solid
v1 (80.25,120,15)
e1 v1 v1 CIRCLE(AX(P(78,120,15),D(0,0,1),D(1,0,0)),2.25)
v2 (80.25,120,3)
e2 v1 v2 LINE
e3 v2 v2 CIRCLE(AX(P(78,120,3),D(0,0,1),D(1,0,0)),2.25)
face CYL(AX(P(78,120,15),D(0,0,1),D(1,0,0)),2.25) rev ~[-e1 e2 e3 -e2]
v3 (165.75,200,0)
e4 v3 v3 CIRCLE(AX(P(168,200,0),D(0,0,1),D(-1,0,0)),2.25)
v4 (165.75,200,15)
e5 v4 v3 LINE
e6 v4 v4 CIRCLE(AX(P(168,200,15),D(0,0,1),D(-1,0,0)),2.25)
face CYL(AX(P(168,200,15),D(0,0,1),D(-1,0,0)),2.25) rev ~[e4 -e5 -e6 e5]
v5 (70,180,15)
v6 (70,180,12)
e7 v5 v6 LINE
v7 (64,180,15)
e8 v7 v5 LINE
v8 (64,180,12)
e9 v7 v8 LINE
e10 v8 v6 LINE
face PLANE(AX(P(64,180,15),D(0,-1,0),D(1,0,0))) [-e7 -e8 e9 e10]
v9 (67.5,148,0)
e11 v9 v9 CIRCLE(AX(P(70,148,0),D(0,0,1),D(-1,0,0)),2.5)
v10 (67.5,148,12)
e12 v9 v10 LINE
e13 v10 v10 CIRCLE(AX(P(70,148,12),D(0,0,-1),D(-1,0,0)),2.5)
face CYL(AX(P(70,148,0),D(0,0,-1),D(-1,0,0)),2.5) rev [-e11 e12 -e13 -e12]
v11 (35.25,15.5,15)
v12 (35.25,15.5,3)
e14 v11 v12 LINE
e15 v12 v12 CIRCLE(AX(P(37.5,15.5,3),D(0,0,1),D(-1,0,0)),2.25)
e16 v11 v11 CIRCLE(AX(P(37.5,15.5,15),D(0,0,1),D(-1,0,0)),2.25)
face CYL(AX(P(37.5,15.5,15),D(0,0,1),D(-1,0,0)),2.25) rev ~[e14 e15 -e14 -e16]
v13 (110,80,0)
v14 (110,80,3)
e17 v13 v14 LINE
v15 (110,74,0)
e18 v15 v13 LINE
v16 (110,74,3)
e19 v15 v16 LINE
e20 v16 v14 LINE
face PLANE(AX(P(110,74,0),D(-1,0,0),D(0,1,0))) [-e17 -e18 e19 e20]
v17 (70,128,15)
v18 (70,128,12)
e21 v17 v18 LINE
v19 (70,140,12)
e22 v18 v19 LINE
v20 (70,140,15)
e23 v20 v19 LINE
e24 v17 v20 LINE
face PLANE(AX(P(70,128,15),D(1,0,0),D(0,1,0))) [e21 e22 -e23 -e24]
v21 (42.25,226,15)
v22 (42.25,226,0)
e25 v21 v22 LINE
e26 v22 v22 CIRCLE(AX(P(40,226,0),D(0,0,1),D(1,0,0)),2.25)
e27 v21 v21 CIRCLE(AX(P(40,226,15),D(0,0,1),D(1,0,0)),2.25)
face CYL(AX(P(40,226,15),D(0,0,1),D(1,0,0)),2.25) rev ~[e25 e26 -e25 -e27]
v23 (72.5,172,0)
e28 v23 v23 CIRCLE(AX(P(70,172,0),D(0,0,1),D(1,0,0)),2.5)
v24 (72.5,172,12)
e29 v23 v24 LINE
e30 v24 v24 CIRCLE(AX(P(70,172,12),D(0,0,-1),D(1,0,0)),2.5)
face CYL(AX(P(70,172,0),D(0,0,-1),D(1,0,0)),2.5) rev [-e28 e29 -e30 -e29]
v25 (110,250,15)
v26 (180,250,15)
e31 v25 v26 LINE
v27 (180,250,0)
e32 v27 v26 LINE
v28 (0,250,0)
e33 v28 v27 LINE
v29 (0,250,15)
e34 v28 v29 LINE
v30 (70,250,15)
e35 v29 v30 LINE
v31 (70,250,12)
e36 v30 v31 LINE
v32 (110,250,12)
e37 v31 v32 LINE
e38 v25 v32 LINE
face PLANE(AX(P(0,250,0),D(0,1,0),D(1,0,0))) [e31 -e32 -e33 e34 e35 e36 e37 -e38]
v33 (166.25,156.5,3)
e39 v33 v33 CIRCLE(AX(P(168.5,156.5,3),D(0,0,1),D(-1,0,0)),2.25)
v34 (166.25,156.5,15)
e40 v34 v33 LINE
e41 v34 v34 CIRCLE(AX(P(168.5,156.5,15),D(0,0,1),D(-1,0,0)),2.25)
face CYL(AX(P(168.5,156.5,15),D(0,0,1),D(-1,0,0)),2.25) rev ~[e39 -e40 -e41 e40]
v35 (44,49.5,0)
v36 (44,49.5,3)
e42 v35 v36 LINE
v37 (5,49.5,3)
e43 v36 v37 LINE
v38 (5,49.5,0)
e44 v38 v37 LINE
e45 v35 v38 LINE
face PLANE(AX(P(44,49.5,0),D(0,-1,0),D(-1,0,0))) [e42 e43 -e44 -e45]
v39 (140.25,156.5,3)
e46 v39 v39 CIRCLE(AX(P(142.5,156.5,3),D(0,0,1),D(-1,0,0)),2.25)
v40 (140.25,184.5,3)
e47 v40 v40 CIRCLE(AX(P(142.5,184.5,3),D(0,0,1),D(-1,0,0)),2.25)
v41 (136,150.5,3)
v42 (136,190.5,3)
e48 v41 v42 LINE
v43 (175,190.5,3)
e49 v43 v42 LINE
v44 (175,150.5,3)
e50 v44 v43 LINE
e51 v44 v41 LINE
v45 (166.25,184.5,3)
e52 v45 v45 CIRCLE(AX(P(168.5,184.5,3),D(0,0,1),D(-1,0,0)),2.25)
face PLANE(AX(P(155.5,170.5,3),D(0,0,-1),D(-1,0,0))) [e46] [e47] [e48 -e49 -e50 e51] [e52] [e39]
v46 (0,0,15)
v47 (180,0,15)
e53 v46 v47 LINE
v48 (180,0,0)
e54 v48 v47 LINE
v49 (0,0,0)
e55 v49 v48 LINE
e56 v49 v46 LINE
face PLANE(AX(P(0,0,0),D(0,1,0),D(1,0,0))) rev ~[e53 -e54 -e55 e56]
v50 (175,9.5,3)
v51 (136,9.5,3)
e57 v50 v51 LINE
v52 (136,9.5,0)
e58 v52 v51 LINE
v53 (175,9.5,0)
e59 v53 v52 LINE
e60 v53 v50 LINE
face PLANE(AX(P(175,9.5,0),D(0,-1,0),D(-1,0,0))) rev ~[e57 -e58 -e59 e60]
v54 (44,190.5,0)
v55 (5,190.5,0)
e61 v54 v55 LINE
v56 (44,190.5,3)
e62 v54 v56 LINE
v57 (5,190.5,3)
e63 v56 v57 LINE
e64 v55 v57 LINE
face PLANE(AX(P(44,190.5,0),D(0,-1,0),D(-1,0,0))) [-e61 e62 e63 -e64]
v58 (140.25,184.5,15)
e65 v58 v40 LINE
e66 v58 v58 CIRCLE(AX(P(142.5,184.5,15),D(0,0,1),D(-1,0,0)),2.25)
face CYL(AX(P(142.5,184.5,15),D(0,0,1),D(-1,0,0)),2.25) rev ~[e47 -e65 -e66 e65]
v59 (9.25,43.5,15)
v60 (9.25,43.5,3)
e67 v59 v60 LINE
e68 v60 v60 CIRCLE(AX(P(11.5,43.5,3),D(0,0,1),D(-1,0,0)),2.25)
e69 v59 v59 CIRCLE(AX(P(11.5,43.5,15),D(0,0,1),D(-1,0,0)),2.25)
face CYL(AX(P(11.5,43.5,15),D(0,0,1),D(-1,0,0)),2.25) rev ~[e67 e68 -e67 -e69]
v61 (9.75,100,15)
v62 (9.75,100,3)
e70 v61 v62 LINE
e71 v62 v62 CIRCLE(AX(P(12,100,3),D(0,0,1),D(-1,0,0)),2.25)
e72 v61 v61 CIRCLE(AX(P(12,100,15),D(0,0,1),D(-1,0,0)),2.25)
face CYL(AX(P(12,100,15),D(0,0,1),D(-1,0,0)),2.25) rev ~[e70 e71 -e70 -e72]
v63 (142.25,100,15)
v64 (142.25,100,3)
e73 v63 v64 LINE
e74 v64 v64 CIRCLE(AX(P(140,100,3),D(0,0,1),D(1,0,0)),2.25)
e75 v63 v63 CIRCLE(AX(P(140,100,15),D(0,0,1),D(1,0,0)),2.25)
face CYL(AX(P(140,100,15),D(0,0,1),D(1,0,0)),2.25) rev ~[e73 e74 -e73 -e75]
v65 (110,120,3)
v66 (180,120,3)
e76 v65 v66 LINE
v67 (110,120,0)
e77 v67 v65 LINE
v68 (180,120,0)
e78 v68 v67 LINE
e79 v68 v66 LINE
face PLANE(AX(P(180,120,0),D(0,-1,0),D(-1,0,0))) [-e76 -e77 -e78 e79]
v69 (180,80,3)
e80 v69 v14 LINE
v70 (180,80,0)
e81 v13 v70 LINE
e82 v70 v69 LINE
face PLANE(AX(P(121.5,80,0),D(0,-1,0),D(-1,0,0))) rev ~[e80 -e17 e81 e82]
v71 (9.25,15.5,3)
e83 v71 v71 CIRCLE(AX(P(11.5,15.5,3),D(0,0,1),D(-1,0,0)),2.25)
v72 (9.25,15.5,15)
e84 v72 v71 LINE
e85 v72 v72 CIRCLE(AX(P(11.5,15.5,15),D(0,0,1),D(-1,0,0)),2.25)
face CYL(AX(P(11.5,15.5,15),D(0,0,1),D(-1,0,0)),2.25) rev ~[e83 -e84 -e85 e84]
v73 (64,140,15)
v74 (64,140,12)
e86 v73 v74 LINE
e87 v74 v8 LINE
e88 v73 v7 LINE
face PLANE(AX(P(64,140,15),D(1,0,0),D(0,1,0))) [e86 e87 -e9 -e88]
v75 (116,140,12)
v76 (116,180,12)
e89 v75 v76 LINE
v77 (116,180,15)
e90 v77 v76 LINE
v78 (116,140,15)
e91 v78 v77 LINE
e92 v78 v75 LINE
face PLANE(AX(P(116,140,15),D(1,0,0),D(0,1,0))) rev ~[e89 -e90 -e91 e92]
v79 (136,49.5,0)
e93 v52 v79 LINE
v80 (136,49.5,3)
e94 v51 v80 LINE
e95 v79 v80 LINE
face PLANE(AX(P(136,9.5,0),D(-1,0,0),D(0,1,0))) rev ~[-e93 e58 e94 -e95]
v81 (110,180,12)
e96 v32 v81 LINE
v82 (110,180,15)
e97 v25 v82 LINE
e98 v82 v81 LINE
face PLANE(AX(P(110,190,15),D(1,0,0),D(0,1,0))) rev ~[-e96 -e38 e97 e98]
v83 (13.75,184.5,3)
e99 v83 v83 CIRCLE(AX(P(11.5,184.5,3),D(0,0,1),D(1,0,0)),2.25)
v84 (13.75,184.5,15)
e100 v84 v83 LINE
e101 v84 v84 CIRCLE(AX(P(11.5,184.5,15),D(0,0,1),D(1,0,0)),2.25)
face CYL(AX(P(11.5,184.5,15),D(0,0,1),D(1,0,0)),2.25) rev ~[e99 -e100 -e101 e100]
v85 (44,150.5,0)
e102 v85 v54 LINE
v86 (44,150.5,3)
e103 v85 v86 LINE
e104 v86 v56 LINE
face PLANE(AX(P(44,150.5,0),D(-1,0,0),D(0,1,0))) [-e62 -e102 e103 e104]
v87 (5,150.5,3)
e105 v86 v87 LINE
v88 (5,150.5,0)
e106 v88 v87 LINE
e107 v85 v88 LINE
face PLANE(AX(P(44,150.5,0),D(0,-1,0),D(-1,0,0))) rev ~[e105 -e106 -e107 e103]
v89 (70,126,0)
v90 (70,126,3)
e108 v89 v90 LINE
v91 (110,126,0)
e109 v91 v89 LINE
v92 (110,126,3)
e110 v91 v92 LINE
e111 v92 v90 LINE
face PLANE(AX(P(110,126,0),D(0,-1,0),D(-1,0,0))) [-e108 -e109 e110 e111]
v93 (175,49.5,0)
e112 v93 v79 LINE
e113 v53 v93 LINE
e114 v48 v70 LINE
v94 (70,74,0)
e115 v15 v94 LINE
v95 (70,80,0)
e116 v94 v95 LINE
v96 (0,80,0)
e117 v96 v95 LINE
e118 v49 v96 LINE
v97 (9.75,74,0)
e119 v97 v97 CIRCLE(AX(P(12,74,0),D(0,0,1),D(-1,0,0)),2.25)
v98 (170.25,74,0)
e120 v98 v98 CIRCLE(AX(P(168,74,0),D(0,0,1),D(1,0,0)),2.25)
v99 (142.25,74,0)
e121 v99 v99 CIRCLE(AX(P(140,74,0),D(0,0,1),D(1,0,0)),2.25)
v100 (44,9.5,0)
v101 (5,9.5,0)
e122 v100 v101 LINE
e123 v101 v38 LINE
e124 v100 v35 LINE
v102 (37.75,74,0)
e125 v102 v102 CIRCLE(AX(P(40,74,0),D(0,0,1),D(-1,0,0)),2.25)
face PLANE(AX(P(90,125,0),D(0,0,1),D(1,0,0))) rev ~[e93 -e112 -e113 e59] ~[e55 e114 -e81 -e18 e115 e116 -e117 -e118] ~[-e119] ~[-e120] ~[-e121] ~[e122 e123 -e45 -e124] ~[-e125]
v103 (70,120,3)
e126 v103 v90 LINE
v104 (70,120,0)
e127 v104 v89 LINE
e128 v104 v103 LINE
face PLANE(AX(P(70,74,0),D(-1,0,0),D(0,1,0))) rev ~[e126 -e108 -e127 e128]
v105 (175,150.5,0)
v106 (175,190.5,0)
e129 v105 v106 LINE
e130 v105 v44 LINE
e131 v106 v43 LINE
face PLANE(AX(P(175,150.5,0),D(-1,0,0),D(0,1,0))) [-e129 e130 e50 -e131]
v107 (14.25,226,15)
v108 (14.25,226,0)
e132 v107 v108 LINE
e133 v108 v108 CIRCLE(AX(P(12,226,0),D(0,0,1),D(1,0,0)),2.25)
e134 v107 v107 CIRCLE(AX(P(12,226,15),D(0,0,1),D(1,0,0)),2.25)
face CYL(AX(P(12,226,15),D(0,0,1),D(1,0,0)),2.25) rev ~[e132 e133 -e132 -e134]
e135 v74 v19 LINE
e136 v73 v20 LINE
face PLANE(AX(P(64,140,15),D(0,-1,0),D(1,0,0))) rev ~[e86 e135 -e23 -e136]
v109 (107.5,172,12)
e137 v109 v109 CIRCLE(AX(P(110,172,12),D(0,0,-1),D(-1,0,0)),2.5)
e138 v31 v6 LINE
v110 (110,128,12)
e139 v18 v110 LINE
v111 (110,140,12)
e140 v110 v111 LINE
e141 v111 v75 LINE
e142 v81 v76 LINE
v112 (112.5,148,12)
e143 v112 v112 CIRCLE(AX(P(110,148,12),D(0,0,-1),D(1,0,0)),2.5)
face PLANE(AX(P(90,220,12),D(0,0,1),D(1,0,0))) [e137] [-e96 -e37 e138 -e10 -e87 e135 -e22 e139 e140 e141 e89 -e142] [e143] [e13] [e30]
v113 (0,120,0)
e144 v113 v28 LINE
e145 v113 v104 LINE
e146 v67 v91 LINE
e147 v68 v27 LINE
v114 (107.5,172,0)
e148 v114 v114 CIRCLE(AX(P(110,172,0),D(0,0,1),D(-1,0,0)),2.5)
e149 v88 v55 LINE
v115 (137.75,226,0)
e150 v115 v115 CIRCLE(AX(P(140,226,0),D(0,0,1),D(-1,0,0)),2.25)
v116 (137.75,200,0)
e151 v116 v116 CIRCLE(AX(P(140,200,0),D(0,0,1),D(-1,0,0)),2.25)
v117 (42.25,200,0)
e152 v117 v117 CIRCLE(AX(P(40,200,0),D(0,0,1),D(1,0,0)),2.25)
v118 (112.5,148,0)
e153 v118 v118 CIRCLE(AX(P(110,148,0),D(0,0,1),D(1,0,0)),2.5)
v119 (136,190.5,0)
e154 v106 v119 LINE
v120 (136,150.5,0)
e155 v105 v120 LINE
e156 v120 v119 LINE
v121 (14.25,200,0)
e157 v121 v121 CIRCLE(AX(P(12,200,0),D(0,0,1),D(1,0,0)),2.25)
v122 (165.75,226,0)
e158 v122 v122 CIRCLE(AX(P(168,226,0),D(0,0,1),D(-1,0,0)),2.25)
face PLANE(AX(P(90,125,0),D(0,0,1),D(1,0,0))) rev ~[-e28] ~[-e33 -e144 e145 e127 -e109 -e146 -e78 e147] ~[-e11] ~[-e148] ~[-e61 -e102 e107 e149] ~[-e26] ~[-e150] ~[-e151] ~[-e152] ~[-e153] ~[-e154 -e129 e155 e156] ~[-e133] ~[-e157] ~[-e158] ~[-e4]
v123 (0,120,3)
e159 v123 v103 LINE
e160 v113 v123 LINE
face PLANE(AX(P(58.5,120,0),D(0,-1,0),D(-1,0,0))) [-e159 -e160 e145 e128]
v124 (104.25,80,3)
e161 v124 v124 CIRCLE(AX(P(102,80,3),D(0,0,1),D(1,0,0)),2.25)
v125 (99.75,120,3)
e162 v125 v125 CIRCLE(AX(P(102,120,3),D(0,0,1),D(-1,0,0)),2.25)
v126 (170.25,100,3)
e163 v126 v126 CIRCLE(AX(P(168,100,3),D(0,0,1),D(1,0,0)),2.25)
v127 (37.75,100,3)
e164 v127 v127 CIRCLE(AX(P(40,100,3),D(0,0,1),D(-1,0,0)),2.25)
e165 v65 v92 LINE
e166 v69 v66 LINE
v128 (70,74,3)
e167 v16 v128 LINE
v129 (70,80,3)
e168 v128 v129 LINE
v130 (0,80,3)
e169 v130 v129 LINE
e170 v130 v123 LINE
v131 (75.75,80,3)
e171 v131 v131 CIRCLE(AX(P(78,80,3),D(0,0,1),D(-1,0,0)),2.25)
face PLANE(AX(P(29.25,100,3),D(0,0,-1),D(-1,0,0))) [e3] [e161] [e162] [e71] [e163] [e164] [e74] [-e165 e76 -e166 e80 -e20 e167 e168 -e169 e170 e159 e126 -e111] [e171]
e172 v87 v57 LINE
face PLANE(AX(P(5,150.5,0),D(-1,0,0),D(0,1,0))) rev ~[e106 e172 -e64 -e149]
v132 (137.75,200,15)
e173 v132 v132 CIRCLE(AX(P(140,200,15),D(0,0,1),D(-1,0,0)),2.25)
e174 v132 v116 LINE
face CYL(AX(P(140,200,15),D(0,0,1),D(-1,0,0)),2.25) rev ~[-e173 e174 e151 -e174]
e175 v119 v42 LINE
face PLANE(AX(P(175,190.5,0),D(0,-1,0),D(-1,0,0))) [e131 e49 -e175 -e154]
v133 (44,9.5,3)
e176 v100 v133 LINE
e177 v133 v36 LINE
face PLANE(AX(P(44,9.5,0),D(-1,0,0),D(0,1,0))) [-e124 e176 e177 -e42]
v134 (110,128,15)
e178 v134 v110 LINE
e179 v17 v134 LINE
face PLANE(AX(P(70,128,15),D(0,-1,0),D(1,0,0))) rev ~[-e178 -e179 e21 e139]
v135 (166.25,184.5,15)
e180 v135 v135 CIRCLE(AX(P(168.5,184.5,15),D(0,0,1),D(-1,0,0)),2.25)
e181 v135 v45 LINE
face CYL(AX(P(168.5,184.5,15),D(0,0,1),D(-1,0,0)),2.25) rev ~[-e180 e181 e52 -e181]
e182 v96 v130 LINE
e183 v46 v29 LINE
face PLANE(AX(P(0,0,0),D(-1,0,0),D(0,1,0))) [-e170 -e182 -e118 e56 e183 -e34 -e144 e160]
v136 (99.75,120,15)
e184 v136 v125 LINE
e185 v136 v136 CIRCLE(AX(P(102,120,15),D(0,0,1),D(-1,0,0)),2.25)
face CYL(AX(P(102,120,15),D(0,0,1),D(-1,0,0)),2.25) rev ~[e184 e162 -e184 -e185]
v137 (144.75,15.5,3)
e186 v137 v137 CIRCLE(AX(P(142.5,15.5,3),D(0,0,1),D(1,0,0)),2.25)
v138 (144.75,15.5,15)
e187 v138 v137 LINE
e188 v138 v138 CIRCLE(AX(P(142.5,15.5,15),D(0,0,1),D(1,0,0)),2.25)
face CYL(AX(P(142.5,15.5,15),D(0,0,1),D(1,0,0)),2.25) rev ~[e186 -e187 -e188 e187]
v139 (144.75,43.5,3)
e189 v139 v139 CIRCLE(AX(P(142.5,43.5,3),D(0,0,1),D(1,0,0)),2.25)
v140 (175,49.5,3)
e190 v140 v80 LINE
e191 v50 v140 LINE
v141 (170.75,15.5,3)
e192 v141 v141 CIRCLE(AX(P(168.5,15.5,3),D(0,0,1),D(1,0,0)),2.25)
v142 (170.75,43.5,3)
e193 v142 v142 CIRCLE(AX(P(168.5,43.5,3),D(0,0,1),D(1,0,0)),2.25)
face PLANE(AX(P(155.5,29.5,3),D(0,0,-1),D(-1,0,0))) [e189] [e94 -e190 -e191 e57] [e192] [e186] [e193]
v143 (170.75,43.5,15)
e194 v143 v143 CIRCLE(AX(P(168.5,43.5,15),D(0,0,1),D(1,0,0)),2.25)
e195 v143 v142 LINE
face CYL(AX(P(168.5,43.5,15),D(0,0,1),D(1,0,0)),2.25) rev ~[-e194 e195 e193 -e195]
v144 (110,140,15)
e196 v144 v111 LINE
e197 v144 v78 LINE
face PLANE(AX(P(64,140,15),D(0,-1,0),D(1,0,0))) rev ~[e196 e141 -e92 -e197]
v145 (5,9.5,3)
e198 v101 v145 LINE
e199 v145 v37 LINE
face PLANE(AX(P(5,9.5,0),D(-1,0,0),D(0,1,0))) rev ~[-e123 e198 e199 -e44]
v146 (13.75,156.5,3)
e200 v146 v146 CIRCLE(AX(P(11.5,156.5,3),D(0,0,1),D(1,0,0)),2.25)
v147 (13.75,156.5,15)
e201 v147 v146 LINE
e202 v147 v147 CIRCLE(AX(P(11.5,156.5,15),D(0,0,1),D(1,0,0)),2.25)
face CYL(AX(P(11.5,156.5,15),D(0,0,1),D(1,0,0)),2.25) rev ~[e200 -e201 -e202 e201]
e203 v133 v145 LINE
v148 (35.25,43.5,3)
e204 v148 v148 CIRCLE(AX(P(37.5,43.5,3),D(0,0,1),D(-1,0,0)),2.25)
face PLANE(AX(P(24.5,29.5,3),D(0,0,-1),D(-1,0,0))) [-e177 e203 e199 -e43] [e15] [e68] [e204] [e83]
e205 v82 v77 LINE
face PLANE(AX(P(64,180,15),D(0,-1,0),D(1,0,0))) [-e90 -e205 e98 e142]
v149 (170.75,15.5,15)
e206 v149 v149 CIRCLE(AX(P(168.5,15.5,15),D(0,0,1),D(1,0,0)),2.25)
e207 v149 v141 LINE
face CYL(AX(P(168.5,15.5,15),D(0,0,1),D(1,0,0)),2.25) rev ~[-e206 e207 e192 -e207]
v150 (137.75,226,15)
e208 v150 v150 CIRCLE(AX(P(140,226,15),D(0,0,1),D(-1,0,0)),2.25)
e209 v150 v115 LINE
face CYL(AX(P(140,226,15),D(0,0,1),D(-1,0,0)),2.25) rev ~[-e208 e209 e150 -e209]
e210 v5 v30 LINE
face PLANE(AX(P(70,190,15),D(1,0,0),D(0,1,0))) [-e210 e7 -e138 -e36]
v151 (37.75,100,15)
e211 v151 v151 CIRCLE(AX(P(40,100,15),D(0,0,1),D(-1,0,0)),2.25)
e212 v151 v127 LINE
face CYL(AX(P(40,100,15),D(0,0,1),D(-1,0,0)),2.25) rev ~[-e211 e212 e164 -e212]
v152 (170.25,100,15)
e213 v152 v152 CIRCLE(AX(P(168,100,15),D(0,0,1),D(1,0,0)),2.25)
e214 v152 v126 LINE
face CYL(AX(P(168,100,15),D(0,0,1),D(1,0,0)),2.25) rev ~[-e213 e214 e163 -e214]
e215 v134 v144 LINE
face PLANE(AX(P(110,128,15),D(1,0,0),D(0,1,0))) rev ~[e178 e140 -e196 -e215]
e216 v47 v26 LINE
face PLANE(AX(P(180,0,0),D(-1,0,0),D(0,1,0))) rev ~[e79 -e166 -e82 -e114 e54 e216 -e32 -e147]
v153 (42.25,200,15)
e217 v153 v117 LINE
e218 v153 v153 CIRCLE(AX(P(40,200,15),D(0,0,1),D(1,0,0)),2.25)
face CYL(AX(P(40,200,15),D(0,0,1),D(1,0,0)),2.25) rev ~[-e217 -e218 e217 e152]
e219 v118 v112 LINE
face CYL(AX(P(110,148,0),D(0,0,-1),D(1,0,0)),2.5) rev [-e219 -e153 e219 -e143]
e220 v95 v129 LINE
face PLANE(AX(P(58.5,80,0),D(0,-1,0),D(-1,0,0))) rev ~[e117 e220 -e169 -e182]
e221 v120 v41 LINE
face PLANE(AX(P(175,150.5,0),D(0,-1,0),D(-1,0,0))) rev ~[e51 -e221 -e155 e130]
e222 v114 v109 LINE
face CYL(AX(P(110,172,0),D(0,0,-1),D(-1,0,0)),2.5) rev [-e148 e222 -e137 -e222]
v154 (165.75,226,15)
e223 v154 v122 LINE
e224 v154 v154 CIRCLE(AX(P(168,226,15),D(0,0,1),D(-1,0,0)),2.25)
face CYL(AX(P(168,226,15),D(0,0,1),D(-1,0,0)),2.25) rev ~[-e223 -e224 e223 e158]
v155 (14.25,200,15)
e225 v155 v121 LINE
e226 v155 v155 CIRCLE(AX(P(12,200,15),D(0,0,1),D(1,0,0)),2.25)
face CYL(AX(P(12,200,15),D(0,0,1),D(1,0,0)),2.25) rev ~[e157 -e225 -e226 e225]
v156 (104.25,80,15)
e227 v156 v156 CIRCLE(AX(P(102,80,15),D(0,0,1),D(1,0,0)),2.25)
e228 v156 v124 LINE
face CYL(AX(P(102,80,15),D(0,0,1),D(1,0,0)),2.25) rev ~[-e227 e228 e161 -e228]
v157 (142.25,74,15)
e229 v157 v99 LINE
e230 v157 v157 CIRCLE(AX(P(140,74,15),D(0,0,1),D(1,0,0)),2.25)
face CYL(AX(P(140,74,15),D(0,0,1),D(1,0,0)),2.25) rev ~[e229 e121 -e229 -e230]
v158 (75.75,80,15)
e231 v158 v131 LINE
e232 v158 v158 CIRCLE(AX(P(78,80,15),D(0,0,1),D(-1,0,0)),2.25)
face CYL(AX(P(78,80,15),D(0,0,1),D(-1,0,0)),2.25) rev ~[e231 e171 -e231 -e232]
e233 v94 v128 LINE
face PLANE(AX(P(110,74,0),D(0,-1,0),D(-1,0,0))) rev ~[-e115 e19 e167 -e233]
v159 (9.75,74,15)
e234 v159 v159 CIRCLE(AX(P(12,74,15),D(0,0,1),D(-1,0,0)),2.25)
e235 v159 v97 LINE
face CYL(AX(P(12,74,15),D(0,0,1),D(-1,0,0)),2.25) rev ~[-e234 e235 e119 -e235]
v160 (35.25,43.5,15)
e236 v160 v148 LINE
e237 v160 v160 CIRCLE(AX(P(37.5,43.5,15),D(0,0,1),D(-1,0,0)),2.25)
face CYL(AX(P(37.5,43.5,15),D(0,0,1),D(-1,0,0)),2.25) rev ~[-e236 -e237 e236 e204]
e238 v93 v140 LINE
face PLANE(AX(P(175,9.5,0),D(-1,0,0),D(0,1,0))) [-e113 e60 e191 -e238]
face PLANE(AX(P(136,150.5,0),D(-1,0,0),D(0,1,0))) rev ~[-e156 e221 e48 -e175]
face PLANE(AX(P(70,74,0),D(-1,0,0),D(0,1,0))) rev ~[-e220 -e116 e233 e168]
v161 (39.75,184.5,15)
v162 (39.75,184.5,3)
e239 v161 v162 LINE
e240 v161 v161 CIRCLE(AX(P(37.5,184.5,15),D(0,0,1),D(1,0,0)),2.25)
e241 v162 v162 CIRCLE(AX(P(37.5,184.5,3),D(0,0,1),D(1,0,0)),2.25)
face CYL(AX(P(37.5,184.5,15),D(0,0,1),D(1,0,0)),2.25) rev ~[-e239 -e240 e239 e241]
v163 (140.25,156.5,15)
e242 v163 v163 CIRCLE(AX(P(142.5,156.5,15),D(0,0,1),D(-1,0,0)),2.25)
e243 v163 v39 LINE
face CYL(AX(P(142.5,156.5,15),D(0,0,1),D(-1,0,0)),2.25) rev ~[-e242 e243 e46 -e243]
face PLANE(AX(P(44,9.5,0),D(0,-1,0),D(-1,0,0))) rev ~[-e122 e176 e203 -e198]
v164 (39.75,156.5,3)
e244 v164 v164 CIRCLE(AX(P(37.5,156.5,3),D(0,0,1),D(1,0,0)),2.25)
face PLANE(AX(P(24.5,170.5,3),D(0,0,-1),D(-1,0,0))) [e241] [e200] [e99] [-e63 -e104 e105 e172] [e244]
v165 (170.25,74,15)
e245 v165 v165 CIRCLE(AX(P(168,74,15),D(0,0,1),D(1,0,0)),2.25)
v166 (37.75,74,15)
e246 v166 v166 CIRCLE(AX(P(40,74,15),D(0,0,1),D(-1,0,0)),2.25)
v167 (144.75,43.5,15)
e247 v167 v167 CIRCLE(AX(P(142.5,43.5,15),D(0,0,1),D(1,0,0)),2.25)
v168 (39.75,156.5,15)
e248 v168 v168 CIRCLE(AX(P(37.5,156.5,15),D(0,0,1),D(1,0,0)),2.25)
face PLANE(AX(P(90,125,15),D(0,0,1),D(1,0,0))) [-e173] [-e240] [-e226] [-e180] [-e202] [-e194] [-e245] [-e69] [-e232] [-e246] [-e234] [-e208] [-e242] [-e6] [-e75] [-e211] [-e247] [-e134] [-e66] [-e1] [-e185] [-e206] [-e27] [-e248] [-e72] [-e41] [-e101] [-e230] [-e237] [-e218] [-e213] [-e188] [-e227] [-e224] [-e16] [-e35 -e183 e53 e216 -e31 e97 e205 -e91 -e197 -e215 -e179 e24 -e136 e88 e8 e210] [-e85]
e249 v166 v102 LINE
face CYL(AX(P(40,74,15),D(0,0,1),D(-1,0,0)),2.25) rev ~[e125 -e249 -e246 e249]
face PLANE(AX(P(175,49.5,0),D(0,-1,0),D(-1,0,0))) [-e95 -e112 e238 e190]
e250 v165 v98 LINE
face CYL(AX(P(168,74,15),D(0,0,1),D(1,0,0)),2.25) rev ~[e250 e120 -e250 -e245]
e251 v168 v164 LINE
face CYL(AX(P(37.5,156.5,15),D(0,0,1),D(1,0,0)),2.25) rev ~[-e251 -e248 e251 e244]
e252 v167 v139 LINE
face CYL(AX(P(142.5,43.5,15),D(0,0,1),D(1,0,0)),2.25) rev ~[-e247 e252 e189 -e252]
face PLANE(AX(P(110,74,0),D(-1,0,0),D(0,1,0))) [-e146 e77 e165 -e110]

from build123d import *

# Parameters (mm, degrees)
ESQUISSE1_W             = 180
ESQUISSE1_H             = 250
BOSS_EXTRU_1_DEPTH      = 15
ESQUISSE2_R             = 2.25
ENL_V_MAT_EXTRU_1_DEPTH = 15
ESQUISSE3_R             = 2.25
ENL_V_MAT_EXTRU_2_DEPTH = 15
ESQUISSE6_W             = 40
ESQUISSE6_H             = 52
ENL_V_MAT_EXTRU_4_DEPTH = 3
ESQUISSE4_W             = 39
ESQUISSE4_H             = 40
ESQUISSE4_W_2           = 12
ENL_V_MAT_EXTRU_3_DEPTH = 3
ENL_V_START             = -15
ESQUISSE7_R             = 2.5
ENL_V_MAT_EXTRU_5_DEPTH = 15
ESQUISSE8_W             = 52
ESQUISSE8_H             = 40
ENL_V_MAT_EXTRU_6_DEPTH = 3
ESQUISSE9_W             = 40
ESQUISSE9_H             = 12
ENL_V_MAT_EXTRU_7_DEPTH = 3
ESQUISSE10_W            = 40
ESQUISSE10_H            = 60
ENL_V_MAT_EXTRU_8_DEPTH = 3
ESQUISSE11_W            = 58.5
ESQUISSE11_H            = 40
ENL_V_MAT_EXTRU_9_DEPTH = 3


with BuildPart() as part:
    # Esquisse1 → Boss.-Extru.1 (new body)
    with BuildSketch(Plane.XY):
        with Locations((90, 125)):
            Rectangle(ESQUISSE1_W, ESQUISSE1_H)
    extrude(amount=BOSS_EXTRU_1_DEPTH)

    # Esquisse2 → Enlèv. mat.-Extru.1 (cut)
    with BuildSketch(Plane.XY.offset(15)):
        with Locations((11.5, 184.5)):
            Circle(ESQUISSE2_R)
        with Locations((37.5, 184.5)):
            Circle(ESQUISSE2_R)
        with Locations((37.5, 156.5)):
            Circle(ESQUISSE2_R)
        with Locations((11.5, 156.5)):
            Circle(ESQUISSE2_R)
        with Locations(Location((168.5, 156.5, 0), (0, 0, 180))):
            Circle(ESQUISSE2_R)
        with Locations(Location((142.5, 156.5, 0), (0, 0, 180))):
            Circle(ESQUISSE2_R)
        with Locations(Location((142.5, 184.5, 0), (0, 0, 180))):
            Circle(ESQUISSE2_R)
        with Locations(Location((168.5, 184.5, 0), (0, 0, 180))):
            Circle(ESQUISSE2_R)
        with Locations((168.5, 15.5)):
            Circle(ESQUISSE2_R)
        with Locations((142.5, 15.5)):
            Circle(ESQUISSE2_R)
        with Locations((142.5, 43.5)):
            Circle(ESQUISSE2_R)
        with Locations((168.5, 43.5)):
            Circle(ESQUISSE2_R)
        with Locations(Location((11.5, 43.5, 0), (0, 0, 180))):
            Circle(ESQUISSE2_R)
        with Locations(Location((37.5, 43.5, 0), (0, 0, 180))):
            Circle(ESQUISSE2_R)
        with Locations(Location((37.5, 15.5, 0), (0, 0, 180))):
            Circle(ESQUISSE2_R)
        with Locations(Location((11.5, 15.5, 0), (0, 0, 180))):
            Circle(ESQUISSE2_R)
        with Locations((78, 120)):
            Circle(ESQUISSE2_R)
        with Locations(Location((78, 80, 0), (0, 0, 180))):
            Circle(ESQUISSE2_R)
        with Locations((102, 80)):
            Circle(ESQUISSE2_R)
        with Locations(Location((102, 120, 0), (0, 0, 180))):
            Circle(ESQUISSE2_R)
    extrude(amount=-ENL_V_MAT_EXTRU_1_DEPTH, mode=Mode.SUBTRACT)

    # Esquisse3 → Enlèv. mat.-Extru.2 (cut)
    with BuildSketch(Plane.XY.offset(15)):
        with Locations((12, 226)):
            Circle(ESQUISSE3_R)
        with Locations((40, 226)):
            Circle(ESQUISSE3_R)
        with Locations((12, 200)):
            Circle(ESQUISSE3_R)
        with Locations((40, 200)):
            Circle(ESQUISSE3_R)
        with Locations(Location((140, 200, 0), (0, 0, 180))):
            Circle(ESQUISSE3_R)
        with Locations(Location((168, 200, 0), (0, 0, 180))):
            Circle(ESQUISSE3_R)
        with Locations(Location((140, 226, 0), (0, 0, 180))):
            Circle(ESQUISSE3_R)
        with Locations(Location((168, 226, 0), (0, 0, 180))):
            Circle(ESQUISSE3_R)
        with Locations((168, 74)):
            Circle(ESQUISSE3_R)
        with Locations((140, 74)):
            Circle(ESQUISSE3_R)
        with Locations((168, 100)):
            Circle(ESQUISSE3_R)
        with Locations((140, 100)):
            Circle(ESQUISSE3_R)
        with Locations(Location((40, 100, 0), (0, 0, 180))):
            Circle(ESQUISSE3_R)
        with Locations(Location((12, 100, 0), (0, 0, 180))):
            Circle(ESQUISSE3_R)
        with Locations(Location((40, 74, 0), (0, 0, 180))):
            Circle(ESQUISSE3_R)
        with Locations(Location((12, 74, 0), (0, 0, 180))):
            Circle(ESQUISSE3_R)
    extrude(amount=-ENL_V_MAT_EXTRU_2_DEPTH, mode=Mode.SUBTRACT)

    # Esquisse6 → Enlèv. mat.-Extru.4 (cut)
    with BuildSketch(Plane(origin=(0, 0, 0), x_dir=(-1, 0, 0), z_dir=(0, 0, -1))):
        with Locations((-90, 100)):
            Rectangle(ESQUISSE6_W, ESQUISSE6_H)
    extrude(amount=-ENL_V_MAT_EXTRU_4_DEPTH, mode=Mode.SUBTRACT)

    # Esquisse4 → Enlèv. mat.-Extru.3 (cut)
    with BuildSketch(Plane(origin=(0, 0, 0), x_dir=(-1, 0, 0), z_dir=(0, 0, -1))):
        with Locations((-155.5, 170.5)):
            Rectangle(ESQUISSE4_W, ESQUISSE4_H)
        with Locations((-155.5, 29.5)):
            Rectangle(ESQUISSE4_W, ESQUISSE4_H)
        with Locations((-24.5, 29.5)):
            Rectangle(ESQUISSE4_W, ESQUISSE4_H)
        with Locations((-24.5, 170.5)):
            Rectangle(ESQUISSE4_W, ESQUISSE4_H)
        with Locations((-115.5, 100)):
            Rectangle(ESQUISSE4_W_2, ESQUISSE4_H)
        with Locations((-64.5, 100)):
            Rectangle(ESQUISSE4_W_2, ESQUISSE4_H)
    extrude(amount=-ENL_V_MAT_EXTRU_3_DEPTH, mode=Mode.SUBTRACT)

    # Esquisse7 → Enlèv. mat.-Extru.5 (cut)
    with BuildSketch(Plane.XY.offset(15).offset(ENL_V_START)):
        with Locations((70, 172)):
            Circle(ESQUISSE7_R)
        with Locations(Location((110, 172, 0), (0, 0, 180))):
            Circle(ESQUISSE7_R)
        with Locations((110, 148)):
            Circle(ESQUISSE7_R)
        with Locations(Location((70, 148, 0), (0, 0, 180))):
            Circle(ESQUISSE7_R)
    extrude(amount=ENL_V_MAT_EXTRU_5_DEPTH, mode=Mode.SUBTRACT)

    # Esquisse8 → Enlèv. mat.-Extru.6 (cut)
    with BuildSketch(Plane.XY.offset(15)):
        with Locations((90, 160)):
            Rectangle(ESQUISSE8_W, ESQUISSE8_H)
    extrude(amount=-ENL_V_MAT_EXTRU_6_DEPTH, mode=Mode.SUBTRACT)

    # Esquisse9 → Enlèv. mat.-Extru.7 (cut)
    with BuildSketch(Plane.XY.offset(15)):
        with Locations((90, 134)):
            Rectangle(ESQUISSE9_W, ESQUISSE9_H)
        with Locations((90, 186)):
            Rectangle(ESQUISSE9_W, ESQUISSE9_H)
    extrude(amount=-ENL_V_MAT_EXTRU_7_DEPTH, mode=Mode.SUBTRACT)

    # Esquisse10 → Enlèv. mat.-Extru.8 (cut)
    with BuildSketch(Plane.XY.offset(15)):
        with Locations((90, 220)):
            Rectangle(ESQUISSE10_W, ESQUISSE10_H)
    extrude(amount=-ENL_V_MAT_EXTRU_8_DEPTH, mode=Mode.SUBTRACT)

    # Esquisse11 → Enlèv. mat.-Extru.9 (cut)
    with BuildSketch(Plane(origin=(0, 0, 0), x_dir=(-1, 0, 0), z_dir=(0, 0, -1))):
        with Locations((-29.25, 100)):
            Rectangle(ESQUISSE11_W, ESQUISSE11_H)
        with Locations((-150.75, 100)):
            Rectangle(ESQUISSE11_W, ESQUISSE11_H)
    extrude(amount=-ENL_V_MAT_EXTRU_9_DEPTH, mode=Mode.SUBTRACT)


solid = part.part
